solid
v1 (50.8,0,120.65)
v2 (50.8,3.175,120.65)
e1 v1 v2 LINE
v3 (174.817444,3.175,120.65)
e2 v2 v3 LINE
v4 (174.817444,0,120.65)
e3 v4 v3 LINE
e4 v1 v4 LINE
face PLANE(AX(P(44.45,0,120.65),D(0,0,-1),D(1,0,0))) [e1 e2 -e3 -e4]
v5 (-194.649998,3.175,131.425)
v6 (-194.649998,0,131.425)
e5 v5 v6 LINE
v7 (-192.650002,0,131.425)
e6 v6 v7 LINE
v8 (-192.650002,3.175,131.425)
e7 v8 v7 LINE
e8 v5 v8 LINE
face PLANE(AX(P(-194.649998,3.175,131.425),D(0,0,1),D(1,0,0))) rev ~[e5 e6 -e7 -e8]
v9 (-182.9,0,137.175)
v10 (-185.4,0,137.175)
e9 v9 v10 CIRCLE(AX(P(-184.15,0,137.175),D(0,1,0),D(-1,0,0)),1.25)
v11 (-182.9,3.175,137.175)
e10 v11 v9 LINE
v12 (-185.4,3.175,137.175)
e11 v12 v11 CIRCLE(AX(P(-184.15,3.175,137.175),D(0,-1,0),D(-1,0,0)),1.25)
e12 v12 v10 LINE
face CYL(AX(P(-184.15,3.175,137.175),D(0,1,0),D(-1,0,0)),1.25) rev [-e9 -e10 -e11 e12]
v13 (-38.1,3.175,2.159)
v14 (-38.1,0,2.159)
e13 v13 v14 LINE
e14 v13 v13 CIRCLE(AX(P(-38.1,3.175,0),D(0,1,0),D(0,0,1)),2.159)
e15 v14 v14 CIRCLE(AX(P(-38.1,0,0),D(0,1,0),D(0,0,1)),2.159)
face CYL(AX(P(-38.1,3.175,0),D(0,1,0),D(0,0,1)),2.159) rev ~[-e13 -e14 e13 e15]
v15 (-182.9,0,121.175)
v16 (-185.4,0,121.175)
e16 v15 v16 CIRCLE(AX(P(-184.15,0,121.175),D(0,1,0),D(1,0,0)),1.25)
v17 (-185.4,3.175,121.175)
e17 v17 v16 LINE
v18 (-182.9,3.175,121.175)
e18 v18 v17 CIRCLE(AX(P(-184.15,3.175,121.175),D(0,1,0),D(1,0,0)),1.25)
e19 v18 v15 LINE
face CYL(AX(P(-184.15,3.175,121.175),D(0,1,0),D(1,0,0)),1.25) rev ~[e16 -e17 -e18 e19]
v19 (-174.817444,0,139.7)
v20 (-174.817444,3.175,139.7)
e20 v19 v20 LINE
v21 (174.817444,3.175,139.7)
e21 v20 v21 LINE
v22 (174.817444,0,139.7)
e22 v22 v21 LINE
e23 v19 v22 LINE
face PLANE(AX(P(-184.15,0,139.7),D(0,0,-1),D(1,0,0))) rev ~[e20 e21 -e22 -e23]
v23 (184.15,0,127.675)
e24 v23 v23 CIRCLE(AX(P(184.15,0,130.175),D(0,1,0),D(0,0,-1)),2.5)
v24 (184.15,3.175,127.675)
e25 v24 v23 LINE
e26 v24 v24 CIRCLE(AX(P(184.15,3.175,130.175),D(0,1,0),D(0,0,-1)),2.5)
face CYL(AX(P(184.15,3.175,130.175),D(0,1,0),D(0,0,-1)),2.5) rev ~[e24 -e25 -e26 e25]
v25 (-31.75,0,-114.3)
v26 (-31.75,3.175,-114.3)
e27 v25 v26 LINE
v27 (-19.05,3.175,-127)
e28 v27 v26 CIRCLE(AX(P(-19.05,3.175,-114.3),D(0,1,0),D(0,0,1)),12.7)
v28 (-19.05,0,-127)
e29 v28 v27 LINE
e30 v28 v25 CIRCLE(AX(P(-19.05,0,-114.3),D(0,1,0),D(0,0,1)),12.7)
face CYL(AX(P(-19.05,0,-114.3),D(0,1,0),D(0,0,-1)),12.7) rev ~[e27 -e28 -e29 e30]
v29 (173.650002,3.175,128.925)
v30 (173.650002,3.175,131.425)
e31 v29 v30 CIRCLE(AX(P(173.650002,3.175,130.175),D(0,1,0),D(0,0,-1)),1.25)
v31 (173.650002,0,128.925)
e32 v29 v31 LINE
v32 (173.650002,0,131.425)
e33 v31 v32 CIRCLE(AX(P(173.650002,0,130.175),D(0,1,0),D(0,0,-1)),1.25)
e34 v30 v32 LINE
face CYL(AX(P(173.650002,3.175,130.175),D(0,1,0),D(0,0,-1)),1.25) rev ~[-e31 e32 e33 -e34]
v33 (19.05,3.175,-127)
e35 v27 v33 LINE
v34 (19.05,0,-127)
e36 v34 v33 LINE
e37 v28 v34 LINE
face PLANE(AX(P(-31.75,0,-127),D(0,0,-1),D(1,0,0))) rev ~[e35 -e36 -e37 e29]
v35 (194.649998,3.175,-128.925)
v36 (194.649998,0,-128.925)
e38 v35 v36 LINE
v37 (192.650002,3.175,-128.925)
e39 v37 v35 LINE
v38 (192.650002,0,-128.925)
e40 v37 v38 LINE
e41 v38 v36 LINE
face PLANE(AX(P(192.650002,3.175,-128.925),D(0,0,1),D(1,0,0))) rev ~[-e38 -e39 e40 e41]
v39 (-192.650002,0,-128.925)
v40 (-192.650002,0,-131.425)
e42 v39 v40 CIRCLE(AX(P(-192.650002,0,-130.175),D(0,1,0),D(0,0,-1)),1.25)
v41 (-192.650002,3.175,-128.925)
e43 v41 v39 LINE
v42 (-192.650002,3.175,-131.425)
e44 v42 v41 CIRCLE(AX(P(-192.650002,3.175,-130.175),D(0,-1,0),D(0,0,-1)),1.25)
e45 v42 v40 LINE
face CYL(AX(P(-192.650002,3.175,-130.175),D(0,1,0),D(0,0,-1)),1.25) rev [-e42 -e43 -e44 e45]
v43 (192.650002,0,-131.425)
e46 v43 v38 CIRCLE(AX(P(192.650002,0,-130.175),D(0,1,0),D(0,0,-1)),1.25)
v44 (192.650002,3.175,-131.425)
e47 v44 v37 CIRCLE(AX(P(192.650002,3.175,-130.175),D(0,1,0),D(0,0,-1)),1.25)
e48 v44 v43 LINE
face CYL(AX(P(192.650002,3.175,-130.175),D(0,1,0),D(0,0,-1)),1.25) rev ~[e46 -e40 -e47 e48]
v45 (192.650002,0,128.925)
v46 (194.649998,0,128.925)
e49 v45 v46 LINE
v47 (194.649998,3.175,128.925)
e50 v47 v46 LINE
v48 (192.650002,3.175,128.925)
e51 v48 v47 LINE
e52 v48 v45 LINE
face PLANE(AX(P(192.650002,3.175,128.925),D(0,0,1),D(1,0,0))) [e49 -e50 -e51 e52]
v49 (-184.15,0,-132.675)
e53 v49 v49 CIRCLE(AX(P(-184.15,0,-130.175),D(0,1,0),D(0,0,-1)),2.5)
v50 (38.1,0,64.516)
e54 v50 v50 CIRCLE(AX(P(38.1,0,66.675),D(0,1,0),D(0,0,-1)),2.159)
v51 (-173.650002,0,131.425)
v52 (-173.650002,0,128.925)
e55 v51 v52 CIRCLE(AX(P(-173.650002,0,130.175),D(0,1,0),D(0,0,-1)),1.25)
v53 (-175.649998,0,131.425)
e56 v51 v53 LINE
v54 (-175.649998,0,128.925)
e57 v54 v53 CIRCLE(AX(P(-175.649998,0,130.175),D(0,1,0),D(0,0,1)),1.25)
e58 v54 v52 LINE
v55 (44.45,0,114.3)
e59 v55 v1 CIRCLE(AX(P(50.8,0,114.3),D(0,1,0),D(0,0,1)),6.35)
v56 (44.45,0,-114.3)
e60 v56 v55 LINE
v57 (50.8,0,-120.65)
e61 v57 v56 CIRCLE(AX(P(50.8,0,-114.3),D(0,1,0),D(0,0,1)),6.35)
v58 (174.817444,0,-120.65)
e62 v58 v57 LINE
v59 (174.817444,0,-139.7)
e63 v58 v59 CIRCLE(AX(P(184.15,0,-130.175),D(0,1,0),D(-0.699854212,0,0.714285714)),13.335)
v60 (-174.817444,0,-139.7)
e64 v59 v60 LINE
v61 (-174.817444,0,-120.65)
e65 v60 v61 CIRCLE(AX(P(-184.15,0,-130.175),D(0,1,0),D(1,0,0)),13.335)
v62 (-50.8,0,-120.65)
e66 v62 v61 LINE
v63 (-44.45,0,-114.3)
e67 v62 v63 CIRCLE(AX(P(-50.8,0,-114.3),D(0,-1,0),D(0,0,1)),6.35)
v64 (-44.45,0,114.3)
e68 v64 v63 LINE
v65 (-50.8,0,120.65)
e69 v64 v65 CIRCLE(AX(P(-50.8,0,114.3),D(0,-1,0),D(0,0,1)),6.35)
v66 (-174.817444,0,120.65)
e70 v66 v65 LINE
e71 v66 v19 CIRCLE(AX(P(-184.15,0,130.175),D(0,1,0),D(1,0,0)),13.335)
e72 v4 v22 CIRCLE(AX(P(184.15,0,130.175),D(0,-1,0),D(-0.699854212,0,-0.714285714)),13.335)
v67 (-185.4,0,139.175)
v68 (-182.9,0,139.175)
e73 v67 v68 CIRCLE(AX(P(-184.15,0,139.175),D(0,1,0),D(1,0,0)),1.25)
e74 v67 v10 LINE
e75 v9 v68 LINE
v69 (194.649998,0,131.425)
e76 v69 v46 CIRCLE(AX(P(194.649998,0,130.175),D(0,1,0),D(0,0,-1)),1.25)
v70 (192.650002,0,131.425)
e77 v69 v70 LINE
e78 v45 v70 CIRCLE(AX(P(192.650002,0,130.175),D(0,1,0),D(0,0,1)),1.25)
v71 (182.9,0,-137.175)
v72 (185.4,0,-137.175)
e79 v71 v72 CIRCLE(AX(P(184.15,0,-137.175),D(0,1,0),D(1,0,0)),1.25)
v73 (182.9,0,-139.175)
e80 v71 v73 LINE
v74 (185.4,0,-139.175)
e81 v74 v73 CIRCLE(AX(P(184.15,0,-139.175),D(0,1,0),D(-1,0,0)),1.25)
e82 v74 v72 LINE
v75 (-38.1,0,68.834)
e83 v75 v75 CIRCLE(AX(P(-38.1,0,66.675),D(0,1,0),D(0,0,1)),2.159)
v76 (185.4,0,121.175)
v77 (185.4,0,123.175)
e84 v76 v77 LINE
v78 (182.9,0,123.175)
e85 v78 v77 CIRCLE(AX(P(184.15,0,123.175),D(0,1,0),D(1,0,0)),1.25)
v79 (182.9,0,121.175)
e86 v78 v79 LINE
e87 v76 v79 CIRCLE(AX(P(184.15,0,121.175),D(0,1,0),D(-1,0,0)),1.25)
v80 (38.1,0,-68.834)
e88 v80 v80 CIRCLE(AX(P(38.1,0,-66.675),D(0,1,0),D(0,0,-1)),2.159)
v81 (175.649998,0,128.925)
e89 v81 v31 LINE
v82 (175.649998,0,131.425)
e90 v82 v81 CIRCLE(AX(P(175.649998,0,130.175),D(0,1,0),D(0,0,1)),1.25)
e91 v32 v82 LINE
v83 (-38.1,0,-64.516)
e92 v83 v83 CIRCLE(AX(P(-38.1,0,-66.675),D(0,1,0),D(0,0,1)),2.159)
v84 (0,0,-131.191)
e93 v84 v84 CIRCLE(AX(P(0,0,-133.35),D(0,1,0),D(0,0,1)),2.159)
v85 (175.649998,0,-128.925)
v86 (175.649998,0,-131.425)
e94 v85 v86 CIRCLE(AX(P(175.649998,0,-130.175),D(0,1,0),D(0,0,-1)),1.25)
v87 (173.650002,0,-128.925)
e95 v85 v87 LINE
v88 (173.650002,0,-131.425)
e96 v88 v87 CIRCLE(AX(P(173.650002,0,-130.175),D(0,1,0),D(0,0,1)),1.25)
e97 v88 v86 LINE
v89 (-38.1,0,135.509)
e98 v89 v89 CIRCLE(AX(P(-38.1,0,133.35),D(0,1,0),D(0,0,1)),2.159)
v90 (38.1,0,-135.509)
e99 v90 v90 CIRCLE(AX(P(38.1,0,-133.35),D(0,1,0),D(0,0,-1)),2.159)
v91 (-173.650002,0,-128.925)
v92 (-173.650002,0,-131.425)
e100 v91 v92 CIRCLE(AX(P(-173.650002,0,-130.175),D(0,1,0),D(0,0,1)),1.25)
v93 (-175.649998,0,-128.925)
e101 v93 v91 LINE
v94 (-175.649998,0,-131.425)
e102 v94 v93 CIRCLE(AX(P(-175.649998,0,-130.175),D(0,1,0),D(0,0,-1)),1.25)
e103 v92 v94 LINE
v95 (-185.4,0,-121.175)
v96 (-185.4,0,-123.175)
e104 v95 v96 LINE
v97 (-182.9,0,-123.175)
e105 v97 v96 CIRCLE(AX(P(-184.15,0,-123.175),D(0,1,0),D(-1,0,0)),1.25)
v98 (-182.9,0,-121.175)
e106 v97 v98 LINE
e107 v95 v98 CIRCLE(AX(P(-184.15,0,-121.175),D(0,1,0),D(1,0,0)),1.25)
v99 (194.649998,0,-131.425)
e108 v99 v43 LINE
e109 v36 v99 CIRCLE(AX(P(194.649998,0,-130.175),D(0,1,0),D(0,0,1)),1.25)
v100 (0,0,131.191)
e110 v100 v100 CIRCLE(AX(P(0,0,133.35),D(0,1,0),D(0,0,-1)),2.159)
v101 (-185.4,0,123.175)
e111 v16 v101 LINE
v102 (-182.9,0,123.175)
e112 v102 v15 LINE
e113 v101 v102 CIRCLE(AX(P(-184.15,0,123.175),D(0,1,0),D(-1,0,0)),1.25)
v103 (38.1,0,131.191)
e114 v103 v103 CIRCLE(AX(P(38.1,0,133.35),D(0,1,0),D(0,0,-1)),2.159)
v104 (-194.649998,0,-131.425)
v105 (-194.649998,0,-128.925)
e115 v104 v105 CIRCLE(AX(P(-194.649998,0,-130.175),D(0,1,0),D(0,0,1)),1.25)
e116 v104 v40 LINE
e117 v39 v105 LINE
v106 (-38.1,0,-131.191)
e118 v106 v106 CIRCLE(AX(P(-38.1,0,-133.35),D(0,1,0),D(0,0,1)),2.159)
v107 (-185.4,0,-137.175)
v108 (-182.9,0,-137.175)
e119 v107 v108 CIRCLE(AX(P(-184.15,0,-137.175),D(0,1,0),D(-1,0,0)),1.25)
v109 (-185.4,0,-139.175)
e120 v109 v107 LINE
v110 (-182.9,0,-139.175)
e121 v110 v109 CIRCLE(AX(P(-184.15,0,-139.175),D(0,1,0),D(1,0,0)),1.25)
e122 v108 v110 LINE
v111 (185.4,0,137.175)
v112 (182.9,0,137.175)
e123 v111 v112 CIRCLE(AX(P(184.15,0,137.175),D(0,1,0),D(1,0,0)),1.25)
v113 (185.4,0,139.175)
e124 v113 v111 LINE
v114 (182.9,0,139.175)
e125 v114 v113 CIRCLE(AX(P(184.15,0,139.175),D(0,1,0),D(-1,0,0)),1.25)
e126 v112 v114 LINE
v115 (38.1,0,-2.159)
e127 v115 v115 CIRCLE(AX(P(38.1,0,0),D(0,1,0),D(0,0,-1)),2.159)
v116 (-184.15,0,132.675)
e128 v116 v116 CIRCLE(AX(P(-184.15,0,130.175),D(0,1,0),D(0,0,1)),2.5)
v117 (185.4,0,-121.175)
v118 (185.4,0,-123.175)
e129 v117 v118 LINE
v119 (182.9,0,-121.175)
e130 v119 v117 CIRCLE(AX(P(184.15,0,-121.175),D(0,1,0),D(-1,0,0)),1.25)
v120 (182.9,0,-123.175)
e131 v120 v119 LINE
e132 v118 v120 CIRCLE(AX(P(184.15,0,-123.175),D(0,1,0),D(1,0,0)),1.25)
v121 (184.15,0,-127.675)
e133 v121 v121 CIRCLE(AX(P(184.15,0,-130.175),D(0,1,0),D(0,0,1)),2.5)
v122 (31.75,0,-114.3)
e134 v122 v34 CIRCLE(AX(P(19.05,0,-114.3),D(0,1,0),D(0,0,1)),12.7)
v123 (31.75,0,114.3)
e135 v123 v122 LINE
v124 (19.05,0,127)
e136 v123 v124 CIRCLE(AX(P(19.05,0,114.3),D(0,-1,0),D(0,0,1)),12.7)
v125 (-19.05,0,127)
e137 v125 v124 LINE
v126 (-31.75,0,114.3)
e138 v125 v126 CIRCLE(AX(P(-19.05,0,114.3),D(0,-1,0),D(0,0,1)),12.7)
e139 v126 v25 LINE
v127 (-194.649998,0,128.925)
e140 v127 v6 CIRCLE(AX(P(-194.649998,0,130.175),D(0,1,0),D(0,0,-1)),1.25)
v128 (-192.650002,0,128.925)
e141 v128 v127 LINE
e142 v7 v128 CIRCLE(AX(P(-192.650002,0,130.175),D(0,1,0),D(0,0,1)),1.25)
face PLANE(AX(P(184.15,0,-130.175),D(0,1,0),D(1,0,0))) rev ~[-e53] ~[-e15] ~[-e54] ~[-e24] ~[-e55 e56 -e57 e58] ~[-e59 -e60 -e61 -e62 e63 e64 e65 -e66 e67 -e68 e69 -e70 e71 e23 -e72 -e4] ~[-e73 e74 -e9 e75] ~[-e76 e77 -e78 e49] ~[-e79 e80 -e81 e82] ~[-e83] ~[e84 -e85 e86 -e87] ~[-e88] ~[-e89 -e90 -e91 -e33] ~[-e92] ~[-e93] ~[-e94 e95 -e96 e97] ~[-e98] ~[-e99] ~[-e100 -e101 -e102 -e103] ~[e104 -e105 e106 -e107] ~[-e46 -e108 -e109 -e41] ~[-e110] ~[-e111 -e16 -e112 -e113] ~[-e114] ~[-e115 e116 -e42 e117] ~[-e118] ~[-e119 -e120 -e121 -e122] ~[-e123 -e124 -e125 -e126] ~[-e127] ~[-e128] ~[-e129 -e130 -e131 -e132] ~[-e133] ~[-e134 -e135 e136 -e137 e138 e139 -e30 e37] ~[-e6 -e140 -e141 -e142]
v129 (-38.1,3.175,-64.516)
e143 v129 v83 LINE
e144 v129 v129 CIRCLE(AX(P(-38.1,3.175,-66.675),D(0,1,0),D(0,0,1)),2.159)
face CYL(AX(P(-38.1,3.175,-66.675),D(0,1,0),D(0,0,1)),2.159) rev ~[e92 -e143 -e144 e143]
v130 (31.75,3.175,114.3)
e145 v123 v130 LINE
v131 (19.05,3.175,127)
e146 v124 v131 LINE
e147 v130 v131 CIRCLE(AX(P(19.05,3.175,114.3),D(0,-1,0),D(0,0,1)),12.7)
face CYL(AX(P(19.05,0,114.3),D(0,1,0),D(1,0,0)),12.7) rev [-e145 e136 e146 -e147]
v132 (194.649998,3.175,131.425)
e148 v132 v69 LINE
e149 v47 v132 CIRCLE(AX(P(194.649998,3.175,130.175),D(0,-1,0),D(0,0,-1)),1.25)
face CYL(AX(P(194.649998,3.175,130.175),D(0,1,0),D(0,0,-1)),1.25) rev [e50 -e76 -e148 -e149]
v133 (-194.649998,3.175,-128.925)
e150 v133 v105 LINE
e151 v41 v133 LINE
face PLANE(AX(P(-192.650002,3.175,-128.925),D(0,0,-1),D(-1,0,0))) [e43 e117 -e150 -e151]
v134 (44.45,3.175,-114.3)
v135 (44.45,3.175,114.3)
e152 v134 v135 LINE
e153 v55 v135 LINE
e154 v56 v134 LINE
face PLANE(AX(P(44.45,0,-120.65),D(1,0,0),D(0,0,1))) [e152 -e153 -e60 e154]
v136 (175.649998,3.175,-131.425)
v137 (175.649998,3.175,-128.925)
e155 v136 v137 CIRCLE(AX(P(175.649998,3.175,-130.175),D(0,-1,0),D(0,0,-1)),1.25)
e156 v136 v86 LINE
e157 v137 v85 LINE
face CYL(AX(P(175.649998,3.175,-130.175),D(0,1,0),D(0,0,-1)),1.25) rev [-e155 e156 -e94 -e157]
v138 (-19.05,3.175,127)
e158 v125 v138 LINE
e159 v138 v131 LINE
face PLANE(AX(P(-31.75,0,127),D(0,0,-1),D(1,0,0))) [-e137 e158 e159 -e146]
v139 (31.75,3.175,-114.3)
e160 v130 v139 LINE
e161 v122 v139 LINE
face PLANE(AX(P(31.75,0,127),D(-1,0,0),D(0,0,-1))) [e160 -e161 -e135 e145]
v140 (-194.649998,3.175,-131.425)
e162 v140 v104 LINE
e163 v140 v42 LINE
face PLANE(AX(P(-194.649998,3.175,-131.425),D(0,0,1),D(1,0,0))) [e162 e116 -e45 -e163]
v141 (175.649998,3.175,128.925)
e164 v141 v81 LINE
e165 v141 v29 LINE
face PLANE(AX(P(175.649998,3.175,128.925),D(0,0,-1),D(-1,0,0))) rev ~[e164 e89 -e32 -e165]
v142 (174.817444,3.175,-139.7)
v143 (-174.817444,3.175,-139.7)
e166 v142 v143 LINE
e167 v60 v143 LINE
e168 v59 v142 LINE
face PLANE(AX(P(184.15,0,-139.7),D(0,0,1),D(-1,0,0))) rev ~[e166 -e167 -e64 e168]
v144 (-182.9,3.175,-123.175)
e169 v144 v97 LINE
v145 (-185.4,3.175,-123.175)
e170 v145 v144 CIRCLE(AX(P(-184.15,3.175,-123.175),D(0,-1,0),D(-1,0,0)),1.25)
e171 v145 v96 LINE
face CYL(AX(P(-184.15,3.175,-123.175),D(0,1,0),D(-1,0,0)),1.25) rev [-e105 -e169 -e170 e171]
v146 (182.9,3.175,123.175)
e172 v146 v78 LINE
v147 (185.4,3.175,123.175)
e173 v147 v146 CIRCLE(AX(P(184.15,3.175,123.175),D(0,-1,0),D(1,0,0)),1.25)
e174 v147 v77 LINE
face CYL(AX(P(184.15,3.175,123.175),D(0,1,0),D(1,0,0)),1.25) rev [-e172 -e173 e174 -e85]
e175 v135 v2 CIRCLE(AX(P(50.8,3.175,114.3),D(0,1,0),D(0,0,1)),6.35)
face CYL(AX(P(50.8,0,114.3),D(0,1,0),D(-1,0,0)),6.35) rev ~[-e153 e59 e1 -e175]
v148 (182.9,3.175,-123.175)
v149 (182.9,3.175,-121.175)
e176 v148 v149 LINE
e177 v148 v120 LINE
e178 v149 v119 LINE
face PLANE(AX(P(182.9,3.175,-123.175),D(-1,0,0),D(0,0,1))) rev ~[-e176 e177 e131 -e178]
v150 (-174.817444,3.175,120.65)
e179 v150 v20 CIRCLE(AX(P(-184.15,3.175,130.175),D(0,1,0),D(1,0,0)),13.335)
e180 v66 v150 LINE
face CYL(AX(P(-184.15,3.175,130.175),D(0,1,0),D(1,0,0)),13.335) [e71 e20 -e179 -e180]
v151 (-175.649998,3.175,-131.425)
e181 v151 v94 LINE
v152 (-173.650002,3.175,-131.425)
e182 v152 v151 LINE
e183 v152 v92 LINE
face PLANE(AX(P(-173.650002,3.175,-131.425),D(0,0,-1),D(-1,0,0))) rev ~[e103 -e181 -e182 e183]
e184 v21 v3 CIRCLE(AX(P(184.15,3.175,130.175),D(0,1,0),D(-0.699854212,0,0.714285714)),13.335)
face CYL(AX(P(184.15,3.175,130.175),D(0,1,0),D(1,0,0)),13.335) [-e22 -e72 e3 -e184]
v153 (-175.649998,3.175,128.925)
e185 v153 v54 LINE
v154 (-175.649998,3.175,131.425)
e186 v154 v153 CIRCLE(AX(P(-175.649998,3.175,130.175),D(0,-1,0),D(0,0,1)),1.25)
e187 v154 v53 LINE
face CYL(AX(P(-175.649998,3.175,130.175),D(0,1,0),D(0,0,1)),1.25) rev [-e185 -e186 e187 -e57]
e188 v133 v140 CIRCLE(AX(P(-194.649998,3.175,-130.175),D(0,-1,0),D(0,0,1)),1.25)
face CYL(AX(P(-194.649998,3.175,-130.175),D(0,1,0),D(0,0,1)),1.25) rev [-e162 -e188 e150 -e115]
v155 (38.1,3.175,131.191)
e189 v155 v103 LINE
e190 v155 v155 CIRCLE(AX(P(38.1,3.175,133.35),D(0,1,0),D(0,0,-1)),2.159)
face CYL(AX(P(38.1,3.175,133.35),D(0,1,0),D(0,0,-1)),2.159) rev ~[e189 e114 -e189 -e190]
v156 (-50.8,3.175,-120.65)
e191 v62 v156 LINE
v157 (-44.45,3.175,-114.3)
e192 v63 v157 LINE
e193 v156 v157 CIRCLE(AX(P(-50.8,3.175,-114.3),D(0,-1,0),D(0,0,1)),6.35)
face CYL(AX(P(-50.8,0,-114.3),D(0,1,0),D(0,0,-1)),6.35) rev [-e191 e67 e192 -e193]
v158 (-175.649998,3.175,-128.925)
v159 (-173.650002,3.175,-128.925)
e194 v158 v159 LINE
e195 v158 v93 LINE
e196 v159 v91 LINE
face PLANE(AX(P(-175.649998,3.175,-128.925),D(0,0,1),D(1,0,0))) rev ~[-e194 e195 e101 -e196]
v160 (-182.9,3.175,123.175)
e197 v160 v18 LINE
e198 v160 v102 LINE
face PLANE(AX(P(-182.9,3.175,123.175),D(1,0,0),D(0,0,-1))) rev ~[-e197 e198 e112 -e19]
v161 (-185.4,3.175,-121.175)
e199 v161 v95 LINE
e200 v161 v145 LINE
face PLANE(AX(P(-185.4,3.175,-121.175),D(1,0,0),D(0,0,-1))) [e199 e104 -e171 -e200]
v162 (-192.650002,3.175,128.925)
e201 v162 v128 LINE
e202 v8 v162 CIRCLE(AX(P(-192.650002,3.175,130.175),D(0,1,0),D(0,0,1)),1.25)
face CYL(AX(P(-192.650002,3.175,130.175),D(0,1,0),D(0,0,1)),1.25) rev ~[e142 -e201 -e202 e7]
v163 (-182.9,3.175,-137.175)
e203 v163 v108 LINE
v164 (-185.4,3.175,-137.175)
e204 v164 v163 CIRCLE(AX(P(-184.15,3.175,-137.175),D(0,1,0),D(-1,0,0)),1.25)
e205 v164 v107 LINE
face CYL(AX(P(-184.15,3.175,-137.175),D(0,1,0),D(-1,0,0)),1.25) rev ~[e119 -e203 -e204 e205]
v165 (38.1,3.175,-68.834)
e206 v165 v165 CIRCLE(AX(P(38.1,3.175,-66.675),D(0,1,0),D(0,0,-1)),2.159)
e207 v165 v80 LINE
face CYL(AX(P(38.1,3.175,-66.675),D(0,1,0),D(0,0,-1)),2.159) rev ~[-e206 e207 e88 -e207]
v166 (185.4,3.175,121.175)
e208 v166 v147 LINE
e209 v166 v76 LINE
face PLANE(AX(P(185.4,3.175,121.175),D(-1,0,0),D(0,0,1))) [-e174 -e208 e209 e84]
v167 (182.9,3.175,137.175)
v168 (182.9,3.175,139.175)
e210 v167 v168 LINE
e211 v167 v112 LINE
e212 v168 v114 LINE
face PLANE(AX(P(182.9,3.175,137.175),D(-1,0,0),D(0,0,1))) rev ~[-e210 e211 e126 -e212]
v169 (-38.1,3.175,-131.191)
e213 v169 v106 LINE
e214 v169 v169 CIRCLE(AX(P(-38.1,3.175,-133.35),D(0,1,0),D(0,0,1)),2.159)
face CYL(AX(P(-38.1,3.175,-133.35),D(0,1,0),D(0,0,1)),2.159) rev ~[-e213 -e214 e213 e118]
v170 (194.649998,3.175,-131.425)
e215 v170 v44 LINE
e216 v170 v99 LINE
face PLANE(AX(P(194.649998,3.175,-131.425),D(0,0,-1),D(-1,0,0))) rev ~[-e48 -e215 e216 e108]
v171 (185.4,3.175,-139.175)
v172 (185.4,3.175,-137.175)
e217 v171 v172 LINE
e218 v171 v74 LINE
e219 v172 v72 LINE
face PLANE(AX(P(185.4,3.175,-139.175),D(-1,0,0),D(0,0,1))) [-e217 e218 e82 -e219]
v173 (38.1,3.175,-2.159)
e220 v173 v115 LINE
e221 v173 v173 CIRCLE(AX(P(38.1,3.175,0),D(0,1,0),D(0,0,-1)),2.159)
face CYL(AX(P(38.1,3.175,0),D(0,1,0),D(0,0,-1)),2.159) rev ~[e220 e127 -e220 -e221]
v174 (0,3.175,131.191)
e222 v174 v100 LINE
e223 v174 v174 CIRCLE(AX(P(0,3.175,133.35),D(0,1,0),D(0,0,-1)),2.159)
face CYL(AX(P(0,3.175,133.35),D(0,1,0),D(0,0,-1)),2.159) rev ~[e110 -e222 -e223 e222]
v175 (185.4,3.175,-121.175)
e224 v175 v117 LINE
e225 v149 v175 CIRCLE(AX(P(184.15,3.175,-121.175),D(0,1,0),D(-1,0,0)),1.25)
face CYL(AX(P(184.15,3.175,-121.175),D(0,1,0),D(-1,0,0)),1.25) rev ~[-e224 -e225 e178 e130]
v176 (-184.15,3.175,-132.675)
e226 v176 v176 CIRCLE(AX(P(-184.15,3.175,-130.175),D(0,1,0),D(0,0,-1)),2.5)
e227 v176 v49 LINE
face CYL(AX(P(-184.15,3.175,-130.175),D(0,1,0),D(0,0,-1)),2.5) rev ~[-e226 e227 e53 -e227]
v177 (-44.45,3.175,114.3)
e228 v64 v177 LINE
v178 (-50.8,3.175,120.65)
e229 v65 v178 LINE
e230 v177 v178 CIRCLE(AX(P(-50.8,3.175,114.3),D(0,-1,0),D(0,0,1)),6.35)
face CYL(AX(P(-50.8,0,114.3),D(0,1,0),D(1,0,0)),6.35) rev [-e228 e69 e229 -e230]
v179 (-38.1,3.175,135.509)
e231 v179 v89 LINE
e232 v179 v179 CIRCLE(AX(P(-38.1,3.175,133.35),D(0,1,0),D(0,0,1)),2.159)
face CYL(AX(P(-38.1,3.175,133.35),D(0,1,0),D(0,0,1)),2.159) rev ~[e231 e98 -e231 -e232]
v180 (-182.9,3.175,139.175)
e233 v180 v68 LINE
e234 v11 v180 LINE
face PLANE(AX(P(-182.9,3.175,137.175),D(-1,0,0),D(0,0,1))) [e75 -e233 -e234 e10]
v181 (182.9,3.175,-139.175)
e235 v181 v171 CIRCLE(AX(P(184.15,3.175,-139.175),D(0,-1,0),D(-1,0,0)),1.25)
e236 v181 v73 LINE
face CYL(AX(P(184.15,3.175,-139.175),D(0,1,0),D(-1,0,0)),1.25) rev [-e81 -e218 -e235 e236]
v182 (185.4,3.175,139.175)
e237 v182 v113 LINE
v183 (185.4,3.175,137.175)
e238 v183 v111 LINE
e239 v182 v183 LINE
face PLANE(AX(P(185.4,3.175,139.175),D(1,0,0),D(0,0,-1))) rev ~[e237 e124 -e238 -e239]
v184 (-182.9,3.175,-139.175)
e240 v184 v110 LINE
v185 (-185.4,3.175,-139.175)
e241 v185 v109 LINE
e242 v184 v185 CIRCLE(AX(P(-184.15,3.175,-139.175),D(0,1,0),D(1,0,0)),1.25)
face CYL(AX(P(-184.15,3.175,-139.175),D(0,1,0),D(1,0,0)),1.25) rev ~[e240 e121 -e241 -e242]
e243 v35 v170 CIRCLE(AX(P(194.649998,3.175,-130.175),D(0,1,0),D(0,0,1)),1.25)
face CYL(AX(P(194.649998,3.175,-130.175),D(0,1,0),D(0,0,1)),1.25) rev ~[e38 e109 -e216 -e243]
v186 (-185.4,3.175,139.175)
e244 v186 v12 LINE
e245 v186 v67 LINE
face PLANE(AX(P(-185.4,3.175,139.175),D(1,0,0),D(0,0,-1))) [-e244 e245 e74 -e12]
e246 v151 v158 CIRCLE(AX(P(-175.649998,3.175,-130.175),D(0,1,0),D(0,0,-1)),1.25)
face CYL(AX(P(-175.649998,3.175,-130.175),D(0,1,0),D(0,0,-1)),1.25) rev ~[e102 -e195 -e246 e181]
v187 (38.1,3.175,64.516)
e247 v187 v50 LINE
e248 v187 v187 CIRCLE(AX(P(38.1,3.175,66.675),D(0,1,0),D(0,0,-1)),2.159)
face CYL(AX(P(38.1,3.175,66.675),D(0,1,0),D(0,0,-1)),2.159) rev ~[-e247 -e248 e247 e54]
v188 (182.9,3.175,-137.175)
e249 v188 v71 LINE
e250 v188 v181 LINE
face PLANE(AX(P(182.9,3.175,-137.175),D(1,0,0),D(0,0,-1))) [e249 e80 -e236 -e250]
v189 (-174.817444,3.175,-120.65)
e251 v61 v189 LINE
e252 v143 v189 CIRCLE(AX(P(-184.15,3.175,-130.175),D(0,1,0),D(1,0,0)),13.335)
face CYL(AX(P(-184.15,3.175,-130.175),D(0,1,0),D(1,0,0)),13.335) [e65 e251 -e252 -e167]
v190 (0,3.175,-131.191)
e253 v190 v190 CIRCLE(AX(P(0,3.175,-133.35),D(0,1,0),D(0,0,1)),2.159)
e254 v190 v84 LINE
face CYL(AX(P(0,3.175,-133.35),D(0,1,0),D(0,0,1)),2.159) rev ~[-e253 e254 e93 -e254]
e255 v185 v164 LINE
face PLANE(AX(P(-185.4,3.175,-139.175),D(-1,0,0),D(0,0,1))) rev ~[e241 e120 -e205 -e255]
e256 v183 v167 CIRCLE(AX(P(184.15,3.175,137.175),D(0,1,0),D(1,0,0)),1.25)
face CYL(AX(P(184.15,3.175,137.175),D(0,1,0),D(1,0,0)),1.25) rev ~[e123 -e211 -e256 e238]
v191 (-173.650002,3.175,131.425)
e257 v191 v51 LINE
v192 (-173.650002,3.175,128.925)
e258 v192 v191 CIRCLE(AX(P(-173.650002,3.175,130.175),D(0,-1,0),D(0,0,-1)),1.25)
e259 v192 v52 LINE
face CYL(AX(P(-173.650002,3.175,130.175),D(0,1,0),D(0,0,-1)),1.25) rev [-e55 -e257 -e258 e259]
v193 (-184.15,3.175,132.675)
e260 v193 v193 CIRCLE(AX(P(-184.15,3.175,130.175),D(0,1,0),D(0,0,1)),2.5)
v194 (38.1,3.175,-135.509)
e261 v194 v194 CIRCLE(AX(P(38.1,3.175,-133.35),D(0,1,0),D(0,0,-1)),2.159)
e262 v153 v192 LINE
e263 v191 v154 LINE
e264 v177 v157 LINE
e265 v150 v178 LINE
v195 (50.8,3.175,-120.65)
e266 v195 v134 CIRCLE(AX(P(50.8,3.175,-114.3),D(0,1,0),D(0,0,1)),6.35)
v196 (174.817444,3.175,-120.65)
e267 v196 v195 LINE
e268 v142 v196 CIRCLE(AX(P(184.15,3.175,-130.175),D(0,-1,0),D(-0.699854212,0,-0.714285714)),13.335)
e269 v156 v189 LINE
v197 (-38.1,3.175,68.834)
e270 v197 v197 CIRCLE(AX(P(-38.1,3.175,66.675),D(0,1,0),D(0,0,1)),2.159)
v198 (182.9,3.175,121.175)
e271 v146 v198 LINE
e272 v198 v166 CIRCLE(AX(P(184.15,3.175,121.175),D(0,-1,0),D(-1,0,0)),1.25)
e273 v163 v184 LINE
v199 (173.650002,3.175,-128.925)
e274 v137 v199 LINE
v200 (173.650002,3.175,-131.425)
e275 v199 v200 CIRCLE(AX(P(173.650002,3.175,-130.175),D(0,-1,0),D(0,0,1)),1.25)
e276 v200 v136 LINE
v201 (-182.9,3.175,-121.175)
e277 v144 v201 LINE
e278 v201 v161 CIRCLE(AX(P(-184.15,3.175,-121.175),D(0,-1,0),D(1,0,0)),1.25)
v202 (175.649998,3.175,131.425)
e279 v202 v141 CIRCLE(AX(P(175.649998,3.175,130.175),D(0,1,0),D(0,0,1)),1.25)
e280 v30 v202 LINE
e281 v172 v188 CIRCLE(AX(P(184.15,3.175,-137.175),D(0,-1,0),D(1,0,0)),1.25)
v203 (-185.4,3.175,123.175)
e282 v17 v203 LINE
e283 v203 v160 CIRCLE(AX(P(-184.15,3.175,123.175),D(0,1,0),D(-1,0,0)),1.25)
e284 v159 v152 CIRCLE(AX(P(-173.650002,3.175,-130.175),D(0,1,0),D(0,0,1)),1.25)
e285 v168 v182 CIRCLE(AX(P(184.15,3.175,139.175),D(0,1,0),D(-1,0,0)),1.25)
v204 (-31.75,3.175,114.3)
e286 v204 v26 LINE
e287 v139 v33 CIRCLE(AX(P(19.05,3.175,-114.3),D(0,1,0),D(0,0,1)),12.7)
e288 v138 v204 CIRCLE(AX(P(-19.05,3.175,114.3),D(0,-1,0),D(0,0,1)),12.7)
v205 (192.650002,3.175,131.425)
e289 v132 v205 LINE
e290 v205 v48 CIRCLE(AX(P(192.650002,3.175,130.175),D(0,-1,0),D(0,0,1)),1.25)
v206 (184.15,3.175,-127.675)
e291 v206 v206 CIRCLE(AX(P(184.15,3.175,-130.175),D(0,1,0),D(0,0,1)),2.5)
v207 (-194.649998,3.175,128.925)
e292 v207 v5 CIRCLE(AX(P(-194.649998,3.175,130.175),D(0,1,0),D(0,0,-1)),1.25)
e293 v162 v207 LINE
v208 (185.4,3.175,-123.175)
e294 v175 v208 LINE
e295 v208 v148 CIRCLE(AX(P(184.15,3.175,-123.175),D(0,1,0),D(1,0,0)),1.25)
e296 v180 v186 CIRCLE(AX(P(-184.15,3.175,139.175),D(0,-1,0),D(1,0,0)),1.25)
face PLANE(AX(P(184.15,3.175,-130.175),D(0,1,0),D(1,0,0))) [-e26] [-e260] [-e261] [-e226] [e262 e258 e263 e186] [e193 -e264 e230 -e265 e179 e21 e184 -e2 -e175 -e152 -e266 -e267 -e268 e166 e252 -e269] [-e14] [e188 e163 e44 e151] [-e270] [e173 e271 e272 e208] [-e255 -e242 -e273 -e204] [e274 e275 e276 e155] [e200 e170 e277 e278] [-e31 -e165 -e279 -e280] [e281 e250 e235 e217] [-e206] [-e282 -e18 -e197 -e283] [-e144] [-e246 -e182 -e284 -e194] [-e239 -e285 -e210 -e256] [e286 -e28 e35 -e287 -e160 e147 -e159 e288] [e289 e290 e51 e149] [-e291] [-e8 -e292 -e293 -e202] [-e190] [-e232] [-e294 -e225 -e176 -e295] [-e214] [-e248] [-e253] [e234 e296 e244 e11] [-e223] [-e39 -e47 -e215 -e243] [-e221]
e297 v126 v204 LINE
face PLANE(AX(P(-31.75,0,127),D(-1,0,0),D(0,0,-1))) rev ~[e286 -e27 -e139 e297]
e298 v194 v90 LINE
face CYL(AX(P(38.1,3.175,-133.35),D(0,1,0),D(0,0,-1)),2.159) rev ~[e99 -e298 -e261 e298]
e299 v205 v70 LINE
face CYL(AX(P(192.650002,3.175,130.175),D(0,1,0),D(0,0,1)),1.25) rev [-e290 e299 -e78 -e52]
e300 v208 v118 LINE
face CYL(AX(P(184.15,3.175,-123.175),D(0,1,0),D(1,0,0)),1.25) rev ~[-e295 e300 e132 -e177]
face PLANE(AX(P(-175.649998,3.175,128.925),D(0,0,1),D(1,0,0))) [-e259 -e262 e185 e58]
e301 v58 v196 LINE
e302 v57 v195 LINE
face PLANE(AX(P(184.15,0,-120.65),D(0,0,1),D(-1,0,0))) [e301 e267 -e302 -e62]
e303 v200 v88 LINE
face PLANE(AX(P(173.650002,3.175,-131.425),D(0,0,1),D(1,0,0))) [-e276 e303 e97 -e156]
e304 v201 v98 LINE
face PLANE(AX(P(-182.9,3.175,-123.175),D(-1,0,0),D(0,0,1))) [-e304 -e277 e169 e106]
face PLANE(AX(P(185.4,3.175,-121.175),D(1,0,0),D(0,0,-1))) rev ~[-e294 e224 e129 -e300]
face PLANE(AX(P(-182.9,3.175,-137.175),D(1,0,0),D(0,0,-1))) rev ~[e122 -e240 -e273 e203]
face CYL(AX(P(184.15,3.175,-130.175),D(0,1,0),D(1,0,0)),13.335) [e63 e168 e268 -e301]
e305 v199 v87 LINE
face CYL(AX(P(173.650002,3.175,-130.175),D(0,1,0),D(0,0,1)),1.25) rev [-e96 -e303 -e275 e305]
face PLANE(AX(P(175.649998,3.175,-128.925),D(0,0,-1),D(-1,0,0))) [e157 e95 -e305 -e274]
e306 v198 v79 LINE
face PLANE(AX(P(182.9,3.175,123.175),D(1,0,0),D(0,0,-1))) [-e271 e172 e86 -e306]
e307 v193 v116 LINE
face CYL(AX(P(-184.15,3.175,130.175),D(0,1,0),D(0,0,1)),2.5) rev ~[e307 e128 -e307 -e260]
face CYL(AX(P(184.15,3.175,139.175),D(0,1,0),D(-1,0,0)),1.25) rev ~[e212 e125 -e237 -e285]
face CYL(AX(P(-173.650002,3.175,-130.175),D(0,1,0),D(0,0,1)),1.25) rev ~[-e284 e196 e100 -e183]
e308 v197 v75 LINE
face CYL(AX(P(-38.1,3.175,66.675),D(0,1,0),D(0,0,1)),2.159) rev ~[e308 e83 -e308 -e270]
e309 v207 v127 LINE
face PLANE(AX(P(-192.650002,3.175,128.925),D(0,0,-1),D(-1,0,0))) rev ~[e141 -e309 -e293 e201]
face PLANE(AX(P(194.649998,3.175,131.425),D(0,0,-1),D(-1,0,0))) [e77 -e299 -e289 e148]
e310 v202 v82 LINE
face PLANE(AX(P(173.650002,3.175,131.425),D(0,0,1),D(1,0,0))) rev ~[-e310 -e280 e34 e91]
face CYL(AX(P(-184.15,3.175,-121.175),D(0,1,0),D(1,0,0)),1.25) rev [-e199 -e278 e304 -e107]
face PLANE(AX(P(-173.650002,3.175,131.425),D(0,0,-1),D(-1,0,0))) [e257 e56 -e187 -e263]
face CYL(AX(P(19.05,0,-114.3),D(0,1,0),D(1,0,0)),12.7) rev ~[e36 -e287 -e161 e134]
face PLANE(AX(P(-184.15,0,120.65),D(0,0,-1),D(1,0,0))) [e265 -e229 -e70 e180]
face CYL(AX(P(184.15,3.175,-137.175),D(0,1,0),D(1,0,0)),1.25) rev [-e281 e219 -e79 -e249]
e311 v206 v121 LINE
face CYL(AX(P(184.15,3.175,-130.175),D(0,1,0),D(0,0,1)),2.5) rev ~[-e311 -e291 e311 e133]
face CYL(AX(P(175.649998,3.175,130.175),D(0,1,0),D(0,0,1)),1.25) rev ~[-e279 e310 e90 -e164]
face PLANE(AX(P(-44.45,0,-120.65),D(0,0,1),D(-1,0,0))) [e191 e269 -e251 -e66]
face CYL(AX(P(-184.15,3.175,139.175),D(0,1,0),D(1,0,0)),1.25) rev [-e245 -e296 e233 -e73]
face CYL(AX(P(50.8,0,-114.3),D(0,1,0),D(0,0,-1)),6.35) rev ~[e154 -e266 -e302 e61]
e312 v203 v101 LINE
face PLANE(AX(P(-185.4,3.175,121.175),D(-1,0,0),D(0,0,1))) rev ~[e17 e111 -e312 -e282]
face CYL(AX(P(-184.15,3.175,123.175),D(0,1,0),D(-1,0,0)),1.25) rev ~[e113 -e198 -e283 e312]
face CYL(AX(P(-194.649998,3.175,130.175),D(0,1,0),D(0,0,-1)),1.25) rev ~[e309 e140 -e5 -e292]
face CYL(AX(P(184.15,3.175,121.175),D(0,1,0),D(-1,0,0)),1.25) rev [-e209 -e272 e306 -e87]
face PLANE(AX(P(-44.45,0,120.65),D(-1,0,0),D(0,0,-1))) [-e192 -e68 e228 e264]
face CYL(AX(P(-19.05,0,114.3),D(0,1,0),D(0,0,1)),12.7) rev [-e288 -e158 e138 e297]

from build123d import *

# Parameters (mm, degrees)
SKETCH1_W           = 63.5
SKETCH1_H           = 254
BOSS_EXTRUDE1_DEPTH = 3.175
SKETCH4_R           = 13.335
BOSS_EXTRUDE4_DEPTH = 3.175
SKETCH5_R           = 2.5
MOTOR_HOLES_DEPTH   = 245.142429639
SKETCH7_R           = 2.159
CUT_EXTRUDE2_DEPTH  = 245.142429639
FILLET1_R           = 12.7
FILLET2_R           = 6.35


with BuildPart() as part:
    # Sketch1 → Boss-Extrude1 (new body)
    with BuildSketch(Plane(origin=(0, 0, 0), x_dir=(1, 0, 0), z_dir=(0, 1, 0))):
        Polygon((-44.45, 139.7), (44.45, 139.7), (184.15, 139.7), (184.15, 120.65), (44.45, 120.65), (44.45, -120.65), (184.15, -120.65), (184.15, -139.7), (44.45, -139.7), (-44.45, -139.7), (-184.15, -139.7), (-184.15, -120.65), (-44.45, -120.65), (-44.45, 120.65), (-184.15, 120.65), (-184.15, 139.7), align=None)
        Rectangle(SKETCH1_W, SKETCH1_H, mode=Mode.SUBTRACT)
    extrude(amount=BOSS_EXTRUDE1_DEPTH)

    # Sketch4 → Boss-Extrude4 (add)
    with BuildSketch(Plane(origin=(0, 3.175, 0), x_dir=(1, 0, 0), z_dir=(0, 1, 0))):
        with Locations((184.15, 130.175)):
            Circle(SKETCH4_R)
        with Locations((-184.15, 130.175)):
            Circle(SKETCH4_R)
        with Locations((-184.15, -130.175)):
            Circle(SKETCH4_R)
        with Locations((184.15, -130.175)):
            Circle(SKETCH4_R)
    extrude(amount=-BOSS_EXTRUDE4_DEPTH)

    # Sketch5 → Motor Holes (cut, through all)
    with BuildSketch(Plane(origin=(0, 3.175, 0), x_dir=(1, 0, 0), z_dir=(0, 1, 0))):
        with Locations(Location((184.15, 130.175, 0), (0, 0, 270))):
            Circle(SKETCH5_R)
        with Locations(Location((-184.15, 130.175, 0), (0, 0, 90))):
            Circle(SKETCH5_R)
        with Locations(Location((184.15, -130.175, 0), (0, 0, 90))):
            Circle(SKETCH5_R)
        with Locations(Location((-184.15, -130.175, 0), (0, 0, 270))):
            Circle(SKETCH5_R)
        with BuildLine():
            Line((173.650002, 131.425), (175.649998, 131.425))
            ThreePointArc((175.649998, 131.425), (176.899998, 130.175), (175.649998, 128.925))
            Line((175.649998, 128.925), (173.650002, 128.925))
            ThreePointArc((173.650002, 128.925), (172.400002, 130.175), (173.650002, 131.425))
        make_face()
        with BuildLine():
            Line((194.649998, 131.425), (192.650002, 131.425))
            ThreePointArc((192.650002, 131.425), (191.400002, 130.175), (192.650002, 128.925))
            Line((192.650002, 128.925), (194.649998, 128.925))
            ThreePointArc((194.649998, 128.925), (195.899998, 130.175), (194.649998, 131.425))
        make_face()
        with BuildLine():
            Line((185.4, 139.175), (185.4, 137.175))
            ThreePointArc((185.4, 137.175), (184.15, 135.925), (182.9, 137.175))
            Line((182.9, 137.175), (182.9, 139.175))
            ThreePointArc((182.9, 139.175), (184.15, 140.425), (185.4, 139.175))
        make_face()
        with BuildLine():
            Line((185.4, 121.175), (185.4, 123.175))
            ThreePointArc((185.4, 123.175), (184.15, 124.425), (182.9, 123.175))
            Line((182.9, 123.175), (182.9, 121.175))
            ThreePointArc((182.9, 121.175), (184.15, 119.925), (185.4, 121.175))
        make_face()
        with BuildLine():
            Line((-173.650002, 131.425), (-175.649998, 131.425))
            ThreePointArc((-175.649998, 131.425), (-176.899998, 130.175), (-175.649998, 128.925))
            Line((-175.649998, 128.925), (-173.650002, 128.925))
            ThreePointArc((-173.650002, 128.925), (-172.400002, 130.175), (-173.650002, 131.425))
        make_face()
        with BuildLine():
            Line((-194.649998, 131.425), (-192.650002, 131.425))
            ThreePointArc((-192.650002, 131.425), (-191.400002, 130.175), (-192.650002, 128.925))
            Line((-192.650002, 128.925), (-194.649998, 128.925))
            ThreePointArc((-194.649998, 128.925), (-195.899998, 130.175), (-194.649998, 131.425))
        make_face()
        with BuildLine():
            Line((-185.4, 139.175), (-185.4, 137.175))
            ThreePointArc((-185.4, 137.175), (-184.15, 135.925), (-182.9, 137.175))
            Line((-182.9, 137.175), (-182.9, 139.175))
            ThreePointArc((-182.9, 139.175), (-184.15, 140.425), (-185.4, 139.175))
        make_face()
        with BuildLine():
            Line((-185.4, 121.175), (-185.4, 123.175))
            ThreePointArc((-185.4, 123.175), (-184.15, 124.425), (-182.9, 123.175))
            Line((-182.9, 123.175), (-182.9, 121.175))
            ThreePointArc((-182.9, 121.175), (-184.15, 119.925), (-185.4, 121.175))
        make_face()
        with BuildLine():
            Line((173.650002, -131.425), (175.649998, -131.425))
            ThreePointArc((175.649998, -131.425), (176.899998, -130.175), (175.649998, -128.925))
            Line((175.649998, -128.925), (173.650002, -128.925))
            ThreePointArc((173.650002, -128.925), (172.400002, -130.175), (173.650002, -131.425))
        make_face()
        with BuildLine():
            Line((185.4, -139.175), (185.4, -137.175))
            ThreePointArc((185.4, -137.175), (184.15, -135.925), (182.9, -137.175))
            Line((182.9, -137.175), (182.9, -139.175))
            ThreePointArc((182.9, -139.175), (184.15, -140.425), (185.4, -139.175))
        make_face()
        with BuildLine():
            Line((194.649998, -131.425), (192.650002, -131.425))
            ThreePointArc((192.650002, -131.425), (191.400002, -130.175), (192.650002, -128.925))
            Line((192.650002, -128.925), (194.649998, -128.925))
            ThreePointArc((194.649998, -128.925), (195.899998, -130.175), (194.649998, -131.425))
        make_face()
        with BuildLine():
            Line((185.4, -121.175), (185.4, -123.175))
            ThreePointArc((185.4, -123.175), (184.15, -124.425), (182.9, -123.175))
            Line((182.9, -123.175), (182.9, -121.175))
            ThreePointArc((182.9, -121.175), (184.15, -119.925), (185.4, -121.175))
        make_face()
        with BuildLine():
            Line((-185.4, -121.175), (-185.4, -123.175))
            ThreePointArc((-185.4, -123.175), (-184.15, -124.425), (-182.9, -123.175))
            Line((-182.9, -123.175), (-182.9, -121.175))
            ThreePointArc((-182.9, -121.175), (-184.15, -119.925), (-185.4, -121.175))
        make_face()
        with BuildLine():
            Line((-185.4, -139.175), (-185.4, -137.175))
            ThreePointArc((-185.4, -137.175), (-184.15, -135.925), (-182.9, -137.175))
            Line((-182.9, -137.175), (-182.9, -139.175))
            ThreePointArc((-182.9, -139.175), (-184.15, -140.425), (-185.4, -139.175))
        make_face()
        with BuildLine():
            Line((-194.649998, -131.425), (-192.650002, -131.425))
            ThreePointArc((-192.650002, -131.425), (-191.400002, -130.175), (-192.650002, -128.925))
            Line((-192.650002, -128.925), (-194.649998, -128.925))
            ThreePointArc((-194.649998, -128.925), (-195.899998, -130.175), (-194.649998, -131.425))
        make_face()
        with BuildLine():
            Line((-173.650002, -131.425), (-175.649998, -131.425))
            ThreePointArc((-175.649998, -131.425), (-176.899998, -130.175), (-175.649998, -128.925))
            Line((-175.649998, -128.925), (-173.650002, -128.925))
            ThreePointArc((-173.650002, -128.925), (-172.400002, -130.175), (-173.650002, -131.425))
        make_face()
    extrude(amount=-MOTOR_HOLES_DEPTH, mode=Mode.SUBTRACT)

    # Sketch7 → Cut-Extrude2 (cut, through all)
    with BuildSketch(Plane(origin=(0, 3.175, 0), x_dir=(1, 0, 0), z_dir=(0, 1, 0))):
        with Locations(Location((-38.1, 133.35, 0), (0, 0, 270))):
            Circle(SKETCH7_R)
        with Locations(Location((-38.1, 66.675, 0), (0, 0, 270))):
            Circle(SKETCH7_R)
        with Locations(Location((-38.1, 0, 0), (0, 0, 270))):
            Circle(SKETCH7_R)
        with Locations(Location((-38.1, -66.675, 0), (0, 0, 270))):
            Circle(SKETCH7_R)
        with Locations(Location((-38.1, -133.35, 0), (0, 0, 270))):
            Circle(SKETCH7_R)
        with Locations(Location((38.1, -133.35, 0), (0, 0, 90))):
            Circle(SKETCH7_R)
        with Locations(Location((38.1, -66.675, 0), (0, 0, 90))):
            Circle(SKETCH7_R)
        with Locations(Location((38.1, 0, 0), (0, 0, 90))):
            Circle(SKETCH7_R)
        with Locations(Location((38.1, 66.675, 0), (0, 0, 90))):
            Circle(SKETCH7_R)
        with Locations(Location((38.1, 133.35, 0), (0, 0, 90))):
            Circle(SKETCH7_R)
        with Locations(Location((0, 133.35, 0), (0, 0, 270))):
            Circle(SKETCH7_R)
        with Locations(Location((0, -133.35, 0), (0, 0, 90))):
            Circle(SKETCH7_R)
    extrude(amount=-CUT_EXTRUDE2_DEPTH, mode=Mode.SUBTRACT)

    # Fillet1
    fillet1_edges = [part.edges().sort_by_distance(p)[0] for p in [
        (-31.75, 1.5875, -127),
        (-31.75, 1.5875, 127),
        (31.75, 1.5875, 127),
        (31.75, 1.5875, -127),
    ]]
    fillet(fillet1_edges, radius=FILLET1_R)

    # Fillet2
    fillet2_edges = [part.edges().sort_by_distance(p)[0] for p in [
        (44.45, 1.5875, -120.65),
        (44.45, 1.5875, 120.65),
        (-44.45, 1.5875, 120.65),
        (-44.45, 1.5875, -120.65),
    ]]
    fillet(fillet2_edges, radius=FILLET2_R)


solid = part.part
